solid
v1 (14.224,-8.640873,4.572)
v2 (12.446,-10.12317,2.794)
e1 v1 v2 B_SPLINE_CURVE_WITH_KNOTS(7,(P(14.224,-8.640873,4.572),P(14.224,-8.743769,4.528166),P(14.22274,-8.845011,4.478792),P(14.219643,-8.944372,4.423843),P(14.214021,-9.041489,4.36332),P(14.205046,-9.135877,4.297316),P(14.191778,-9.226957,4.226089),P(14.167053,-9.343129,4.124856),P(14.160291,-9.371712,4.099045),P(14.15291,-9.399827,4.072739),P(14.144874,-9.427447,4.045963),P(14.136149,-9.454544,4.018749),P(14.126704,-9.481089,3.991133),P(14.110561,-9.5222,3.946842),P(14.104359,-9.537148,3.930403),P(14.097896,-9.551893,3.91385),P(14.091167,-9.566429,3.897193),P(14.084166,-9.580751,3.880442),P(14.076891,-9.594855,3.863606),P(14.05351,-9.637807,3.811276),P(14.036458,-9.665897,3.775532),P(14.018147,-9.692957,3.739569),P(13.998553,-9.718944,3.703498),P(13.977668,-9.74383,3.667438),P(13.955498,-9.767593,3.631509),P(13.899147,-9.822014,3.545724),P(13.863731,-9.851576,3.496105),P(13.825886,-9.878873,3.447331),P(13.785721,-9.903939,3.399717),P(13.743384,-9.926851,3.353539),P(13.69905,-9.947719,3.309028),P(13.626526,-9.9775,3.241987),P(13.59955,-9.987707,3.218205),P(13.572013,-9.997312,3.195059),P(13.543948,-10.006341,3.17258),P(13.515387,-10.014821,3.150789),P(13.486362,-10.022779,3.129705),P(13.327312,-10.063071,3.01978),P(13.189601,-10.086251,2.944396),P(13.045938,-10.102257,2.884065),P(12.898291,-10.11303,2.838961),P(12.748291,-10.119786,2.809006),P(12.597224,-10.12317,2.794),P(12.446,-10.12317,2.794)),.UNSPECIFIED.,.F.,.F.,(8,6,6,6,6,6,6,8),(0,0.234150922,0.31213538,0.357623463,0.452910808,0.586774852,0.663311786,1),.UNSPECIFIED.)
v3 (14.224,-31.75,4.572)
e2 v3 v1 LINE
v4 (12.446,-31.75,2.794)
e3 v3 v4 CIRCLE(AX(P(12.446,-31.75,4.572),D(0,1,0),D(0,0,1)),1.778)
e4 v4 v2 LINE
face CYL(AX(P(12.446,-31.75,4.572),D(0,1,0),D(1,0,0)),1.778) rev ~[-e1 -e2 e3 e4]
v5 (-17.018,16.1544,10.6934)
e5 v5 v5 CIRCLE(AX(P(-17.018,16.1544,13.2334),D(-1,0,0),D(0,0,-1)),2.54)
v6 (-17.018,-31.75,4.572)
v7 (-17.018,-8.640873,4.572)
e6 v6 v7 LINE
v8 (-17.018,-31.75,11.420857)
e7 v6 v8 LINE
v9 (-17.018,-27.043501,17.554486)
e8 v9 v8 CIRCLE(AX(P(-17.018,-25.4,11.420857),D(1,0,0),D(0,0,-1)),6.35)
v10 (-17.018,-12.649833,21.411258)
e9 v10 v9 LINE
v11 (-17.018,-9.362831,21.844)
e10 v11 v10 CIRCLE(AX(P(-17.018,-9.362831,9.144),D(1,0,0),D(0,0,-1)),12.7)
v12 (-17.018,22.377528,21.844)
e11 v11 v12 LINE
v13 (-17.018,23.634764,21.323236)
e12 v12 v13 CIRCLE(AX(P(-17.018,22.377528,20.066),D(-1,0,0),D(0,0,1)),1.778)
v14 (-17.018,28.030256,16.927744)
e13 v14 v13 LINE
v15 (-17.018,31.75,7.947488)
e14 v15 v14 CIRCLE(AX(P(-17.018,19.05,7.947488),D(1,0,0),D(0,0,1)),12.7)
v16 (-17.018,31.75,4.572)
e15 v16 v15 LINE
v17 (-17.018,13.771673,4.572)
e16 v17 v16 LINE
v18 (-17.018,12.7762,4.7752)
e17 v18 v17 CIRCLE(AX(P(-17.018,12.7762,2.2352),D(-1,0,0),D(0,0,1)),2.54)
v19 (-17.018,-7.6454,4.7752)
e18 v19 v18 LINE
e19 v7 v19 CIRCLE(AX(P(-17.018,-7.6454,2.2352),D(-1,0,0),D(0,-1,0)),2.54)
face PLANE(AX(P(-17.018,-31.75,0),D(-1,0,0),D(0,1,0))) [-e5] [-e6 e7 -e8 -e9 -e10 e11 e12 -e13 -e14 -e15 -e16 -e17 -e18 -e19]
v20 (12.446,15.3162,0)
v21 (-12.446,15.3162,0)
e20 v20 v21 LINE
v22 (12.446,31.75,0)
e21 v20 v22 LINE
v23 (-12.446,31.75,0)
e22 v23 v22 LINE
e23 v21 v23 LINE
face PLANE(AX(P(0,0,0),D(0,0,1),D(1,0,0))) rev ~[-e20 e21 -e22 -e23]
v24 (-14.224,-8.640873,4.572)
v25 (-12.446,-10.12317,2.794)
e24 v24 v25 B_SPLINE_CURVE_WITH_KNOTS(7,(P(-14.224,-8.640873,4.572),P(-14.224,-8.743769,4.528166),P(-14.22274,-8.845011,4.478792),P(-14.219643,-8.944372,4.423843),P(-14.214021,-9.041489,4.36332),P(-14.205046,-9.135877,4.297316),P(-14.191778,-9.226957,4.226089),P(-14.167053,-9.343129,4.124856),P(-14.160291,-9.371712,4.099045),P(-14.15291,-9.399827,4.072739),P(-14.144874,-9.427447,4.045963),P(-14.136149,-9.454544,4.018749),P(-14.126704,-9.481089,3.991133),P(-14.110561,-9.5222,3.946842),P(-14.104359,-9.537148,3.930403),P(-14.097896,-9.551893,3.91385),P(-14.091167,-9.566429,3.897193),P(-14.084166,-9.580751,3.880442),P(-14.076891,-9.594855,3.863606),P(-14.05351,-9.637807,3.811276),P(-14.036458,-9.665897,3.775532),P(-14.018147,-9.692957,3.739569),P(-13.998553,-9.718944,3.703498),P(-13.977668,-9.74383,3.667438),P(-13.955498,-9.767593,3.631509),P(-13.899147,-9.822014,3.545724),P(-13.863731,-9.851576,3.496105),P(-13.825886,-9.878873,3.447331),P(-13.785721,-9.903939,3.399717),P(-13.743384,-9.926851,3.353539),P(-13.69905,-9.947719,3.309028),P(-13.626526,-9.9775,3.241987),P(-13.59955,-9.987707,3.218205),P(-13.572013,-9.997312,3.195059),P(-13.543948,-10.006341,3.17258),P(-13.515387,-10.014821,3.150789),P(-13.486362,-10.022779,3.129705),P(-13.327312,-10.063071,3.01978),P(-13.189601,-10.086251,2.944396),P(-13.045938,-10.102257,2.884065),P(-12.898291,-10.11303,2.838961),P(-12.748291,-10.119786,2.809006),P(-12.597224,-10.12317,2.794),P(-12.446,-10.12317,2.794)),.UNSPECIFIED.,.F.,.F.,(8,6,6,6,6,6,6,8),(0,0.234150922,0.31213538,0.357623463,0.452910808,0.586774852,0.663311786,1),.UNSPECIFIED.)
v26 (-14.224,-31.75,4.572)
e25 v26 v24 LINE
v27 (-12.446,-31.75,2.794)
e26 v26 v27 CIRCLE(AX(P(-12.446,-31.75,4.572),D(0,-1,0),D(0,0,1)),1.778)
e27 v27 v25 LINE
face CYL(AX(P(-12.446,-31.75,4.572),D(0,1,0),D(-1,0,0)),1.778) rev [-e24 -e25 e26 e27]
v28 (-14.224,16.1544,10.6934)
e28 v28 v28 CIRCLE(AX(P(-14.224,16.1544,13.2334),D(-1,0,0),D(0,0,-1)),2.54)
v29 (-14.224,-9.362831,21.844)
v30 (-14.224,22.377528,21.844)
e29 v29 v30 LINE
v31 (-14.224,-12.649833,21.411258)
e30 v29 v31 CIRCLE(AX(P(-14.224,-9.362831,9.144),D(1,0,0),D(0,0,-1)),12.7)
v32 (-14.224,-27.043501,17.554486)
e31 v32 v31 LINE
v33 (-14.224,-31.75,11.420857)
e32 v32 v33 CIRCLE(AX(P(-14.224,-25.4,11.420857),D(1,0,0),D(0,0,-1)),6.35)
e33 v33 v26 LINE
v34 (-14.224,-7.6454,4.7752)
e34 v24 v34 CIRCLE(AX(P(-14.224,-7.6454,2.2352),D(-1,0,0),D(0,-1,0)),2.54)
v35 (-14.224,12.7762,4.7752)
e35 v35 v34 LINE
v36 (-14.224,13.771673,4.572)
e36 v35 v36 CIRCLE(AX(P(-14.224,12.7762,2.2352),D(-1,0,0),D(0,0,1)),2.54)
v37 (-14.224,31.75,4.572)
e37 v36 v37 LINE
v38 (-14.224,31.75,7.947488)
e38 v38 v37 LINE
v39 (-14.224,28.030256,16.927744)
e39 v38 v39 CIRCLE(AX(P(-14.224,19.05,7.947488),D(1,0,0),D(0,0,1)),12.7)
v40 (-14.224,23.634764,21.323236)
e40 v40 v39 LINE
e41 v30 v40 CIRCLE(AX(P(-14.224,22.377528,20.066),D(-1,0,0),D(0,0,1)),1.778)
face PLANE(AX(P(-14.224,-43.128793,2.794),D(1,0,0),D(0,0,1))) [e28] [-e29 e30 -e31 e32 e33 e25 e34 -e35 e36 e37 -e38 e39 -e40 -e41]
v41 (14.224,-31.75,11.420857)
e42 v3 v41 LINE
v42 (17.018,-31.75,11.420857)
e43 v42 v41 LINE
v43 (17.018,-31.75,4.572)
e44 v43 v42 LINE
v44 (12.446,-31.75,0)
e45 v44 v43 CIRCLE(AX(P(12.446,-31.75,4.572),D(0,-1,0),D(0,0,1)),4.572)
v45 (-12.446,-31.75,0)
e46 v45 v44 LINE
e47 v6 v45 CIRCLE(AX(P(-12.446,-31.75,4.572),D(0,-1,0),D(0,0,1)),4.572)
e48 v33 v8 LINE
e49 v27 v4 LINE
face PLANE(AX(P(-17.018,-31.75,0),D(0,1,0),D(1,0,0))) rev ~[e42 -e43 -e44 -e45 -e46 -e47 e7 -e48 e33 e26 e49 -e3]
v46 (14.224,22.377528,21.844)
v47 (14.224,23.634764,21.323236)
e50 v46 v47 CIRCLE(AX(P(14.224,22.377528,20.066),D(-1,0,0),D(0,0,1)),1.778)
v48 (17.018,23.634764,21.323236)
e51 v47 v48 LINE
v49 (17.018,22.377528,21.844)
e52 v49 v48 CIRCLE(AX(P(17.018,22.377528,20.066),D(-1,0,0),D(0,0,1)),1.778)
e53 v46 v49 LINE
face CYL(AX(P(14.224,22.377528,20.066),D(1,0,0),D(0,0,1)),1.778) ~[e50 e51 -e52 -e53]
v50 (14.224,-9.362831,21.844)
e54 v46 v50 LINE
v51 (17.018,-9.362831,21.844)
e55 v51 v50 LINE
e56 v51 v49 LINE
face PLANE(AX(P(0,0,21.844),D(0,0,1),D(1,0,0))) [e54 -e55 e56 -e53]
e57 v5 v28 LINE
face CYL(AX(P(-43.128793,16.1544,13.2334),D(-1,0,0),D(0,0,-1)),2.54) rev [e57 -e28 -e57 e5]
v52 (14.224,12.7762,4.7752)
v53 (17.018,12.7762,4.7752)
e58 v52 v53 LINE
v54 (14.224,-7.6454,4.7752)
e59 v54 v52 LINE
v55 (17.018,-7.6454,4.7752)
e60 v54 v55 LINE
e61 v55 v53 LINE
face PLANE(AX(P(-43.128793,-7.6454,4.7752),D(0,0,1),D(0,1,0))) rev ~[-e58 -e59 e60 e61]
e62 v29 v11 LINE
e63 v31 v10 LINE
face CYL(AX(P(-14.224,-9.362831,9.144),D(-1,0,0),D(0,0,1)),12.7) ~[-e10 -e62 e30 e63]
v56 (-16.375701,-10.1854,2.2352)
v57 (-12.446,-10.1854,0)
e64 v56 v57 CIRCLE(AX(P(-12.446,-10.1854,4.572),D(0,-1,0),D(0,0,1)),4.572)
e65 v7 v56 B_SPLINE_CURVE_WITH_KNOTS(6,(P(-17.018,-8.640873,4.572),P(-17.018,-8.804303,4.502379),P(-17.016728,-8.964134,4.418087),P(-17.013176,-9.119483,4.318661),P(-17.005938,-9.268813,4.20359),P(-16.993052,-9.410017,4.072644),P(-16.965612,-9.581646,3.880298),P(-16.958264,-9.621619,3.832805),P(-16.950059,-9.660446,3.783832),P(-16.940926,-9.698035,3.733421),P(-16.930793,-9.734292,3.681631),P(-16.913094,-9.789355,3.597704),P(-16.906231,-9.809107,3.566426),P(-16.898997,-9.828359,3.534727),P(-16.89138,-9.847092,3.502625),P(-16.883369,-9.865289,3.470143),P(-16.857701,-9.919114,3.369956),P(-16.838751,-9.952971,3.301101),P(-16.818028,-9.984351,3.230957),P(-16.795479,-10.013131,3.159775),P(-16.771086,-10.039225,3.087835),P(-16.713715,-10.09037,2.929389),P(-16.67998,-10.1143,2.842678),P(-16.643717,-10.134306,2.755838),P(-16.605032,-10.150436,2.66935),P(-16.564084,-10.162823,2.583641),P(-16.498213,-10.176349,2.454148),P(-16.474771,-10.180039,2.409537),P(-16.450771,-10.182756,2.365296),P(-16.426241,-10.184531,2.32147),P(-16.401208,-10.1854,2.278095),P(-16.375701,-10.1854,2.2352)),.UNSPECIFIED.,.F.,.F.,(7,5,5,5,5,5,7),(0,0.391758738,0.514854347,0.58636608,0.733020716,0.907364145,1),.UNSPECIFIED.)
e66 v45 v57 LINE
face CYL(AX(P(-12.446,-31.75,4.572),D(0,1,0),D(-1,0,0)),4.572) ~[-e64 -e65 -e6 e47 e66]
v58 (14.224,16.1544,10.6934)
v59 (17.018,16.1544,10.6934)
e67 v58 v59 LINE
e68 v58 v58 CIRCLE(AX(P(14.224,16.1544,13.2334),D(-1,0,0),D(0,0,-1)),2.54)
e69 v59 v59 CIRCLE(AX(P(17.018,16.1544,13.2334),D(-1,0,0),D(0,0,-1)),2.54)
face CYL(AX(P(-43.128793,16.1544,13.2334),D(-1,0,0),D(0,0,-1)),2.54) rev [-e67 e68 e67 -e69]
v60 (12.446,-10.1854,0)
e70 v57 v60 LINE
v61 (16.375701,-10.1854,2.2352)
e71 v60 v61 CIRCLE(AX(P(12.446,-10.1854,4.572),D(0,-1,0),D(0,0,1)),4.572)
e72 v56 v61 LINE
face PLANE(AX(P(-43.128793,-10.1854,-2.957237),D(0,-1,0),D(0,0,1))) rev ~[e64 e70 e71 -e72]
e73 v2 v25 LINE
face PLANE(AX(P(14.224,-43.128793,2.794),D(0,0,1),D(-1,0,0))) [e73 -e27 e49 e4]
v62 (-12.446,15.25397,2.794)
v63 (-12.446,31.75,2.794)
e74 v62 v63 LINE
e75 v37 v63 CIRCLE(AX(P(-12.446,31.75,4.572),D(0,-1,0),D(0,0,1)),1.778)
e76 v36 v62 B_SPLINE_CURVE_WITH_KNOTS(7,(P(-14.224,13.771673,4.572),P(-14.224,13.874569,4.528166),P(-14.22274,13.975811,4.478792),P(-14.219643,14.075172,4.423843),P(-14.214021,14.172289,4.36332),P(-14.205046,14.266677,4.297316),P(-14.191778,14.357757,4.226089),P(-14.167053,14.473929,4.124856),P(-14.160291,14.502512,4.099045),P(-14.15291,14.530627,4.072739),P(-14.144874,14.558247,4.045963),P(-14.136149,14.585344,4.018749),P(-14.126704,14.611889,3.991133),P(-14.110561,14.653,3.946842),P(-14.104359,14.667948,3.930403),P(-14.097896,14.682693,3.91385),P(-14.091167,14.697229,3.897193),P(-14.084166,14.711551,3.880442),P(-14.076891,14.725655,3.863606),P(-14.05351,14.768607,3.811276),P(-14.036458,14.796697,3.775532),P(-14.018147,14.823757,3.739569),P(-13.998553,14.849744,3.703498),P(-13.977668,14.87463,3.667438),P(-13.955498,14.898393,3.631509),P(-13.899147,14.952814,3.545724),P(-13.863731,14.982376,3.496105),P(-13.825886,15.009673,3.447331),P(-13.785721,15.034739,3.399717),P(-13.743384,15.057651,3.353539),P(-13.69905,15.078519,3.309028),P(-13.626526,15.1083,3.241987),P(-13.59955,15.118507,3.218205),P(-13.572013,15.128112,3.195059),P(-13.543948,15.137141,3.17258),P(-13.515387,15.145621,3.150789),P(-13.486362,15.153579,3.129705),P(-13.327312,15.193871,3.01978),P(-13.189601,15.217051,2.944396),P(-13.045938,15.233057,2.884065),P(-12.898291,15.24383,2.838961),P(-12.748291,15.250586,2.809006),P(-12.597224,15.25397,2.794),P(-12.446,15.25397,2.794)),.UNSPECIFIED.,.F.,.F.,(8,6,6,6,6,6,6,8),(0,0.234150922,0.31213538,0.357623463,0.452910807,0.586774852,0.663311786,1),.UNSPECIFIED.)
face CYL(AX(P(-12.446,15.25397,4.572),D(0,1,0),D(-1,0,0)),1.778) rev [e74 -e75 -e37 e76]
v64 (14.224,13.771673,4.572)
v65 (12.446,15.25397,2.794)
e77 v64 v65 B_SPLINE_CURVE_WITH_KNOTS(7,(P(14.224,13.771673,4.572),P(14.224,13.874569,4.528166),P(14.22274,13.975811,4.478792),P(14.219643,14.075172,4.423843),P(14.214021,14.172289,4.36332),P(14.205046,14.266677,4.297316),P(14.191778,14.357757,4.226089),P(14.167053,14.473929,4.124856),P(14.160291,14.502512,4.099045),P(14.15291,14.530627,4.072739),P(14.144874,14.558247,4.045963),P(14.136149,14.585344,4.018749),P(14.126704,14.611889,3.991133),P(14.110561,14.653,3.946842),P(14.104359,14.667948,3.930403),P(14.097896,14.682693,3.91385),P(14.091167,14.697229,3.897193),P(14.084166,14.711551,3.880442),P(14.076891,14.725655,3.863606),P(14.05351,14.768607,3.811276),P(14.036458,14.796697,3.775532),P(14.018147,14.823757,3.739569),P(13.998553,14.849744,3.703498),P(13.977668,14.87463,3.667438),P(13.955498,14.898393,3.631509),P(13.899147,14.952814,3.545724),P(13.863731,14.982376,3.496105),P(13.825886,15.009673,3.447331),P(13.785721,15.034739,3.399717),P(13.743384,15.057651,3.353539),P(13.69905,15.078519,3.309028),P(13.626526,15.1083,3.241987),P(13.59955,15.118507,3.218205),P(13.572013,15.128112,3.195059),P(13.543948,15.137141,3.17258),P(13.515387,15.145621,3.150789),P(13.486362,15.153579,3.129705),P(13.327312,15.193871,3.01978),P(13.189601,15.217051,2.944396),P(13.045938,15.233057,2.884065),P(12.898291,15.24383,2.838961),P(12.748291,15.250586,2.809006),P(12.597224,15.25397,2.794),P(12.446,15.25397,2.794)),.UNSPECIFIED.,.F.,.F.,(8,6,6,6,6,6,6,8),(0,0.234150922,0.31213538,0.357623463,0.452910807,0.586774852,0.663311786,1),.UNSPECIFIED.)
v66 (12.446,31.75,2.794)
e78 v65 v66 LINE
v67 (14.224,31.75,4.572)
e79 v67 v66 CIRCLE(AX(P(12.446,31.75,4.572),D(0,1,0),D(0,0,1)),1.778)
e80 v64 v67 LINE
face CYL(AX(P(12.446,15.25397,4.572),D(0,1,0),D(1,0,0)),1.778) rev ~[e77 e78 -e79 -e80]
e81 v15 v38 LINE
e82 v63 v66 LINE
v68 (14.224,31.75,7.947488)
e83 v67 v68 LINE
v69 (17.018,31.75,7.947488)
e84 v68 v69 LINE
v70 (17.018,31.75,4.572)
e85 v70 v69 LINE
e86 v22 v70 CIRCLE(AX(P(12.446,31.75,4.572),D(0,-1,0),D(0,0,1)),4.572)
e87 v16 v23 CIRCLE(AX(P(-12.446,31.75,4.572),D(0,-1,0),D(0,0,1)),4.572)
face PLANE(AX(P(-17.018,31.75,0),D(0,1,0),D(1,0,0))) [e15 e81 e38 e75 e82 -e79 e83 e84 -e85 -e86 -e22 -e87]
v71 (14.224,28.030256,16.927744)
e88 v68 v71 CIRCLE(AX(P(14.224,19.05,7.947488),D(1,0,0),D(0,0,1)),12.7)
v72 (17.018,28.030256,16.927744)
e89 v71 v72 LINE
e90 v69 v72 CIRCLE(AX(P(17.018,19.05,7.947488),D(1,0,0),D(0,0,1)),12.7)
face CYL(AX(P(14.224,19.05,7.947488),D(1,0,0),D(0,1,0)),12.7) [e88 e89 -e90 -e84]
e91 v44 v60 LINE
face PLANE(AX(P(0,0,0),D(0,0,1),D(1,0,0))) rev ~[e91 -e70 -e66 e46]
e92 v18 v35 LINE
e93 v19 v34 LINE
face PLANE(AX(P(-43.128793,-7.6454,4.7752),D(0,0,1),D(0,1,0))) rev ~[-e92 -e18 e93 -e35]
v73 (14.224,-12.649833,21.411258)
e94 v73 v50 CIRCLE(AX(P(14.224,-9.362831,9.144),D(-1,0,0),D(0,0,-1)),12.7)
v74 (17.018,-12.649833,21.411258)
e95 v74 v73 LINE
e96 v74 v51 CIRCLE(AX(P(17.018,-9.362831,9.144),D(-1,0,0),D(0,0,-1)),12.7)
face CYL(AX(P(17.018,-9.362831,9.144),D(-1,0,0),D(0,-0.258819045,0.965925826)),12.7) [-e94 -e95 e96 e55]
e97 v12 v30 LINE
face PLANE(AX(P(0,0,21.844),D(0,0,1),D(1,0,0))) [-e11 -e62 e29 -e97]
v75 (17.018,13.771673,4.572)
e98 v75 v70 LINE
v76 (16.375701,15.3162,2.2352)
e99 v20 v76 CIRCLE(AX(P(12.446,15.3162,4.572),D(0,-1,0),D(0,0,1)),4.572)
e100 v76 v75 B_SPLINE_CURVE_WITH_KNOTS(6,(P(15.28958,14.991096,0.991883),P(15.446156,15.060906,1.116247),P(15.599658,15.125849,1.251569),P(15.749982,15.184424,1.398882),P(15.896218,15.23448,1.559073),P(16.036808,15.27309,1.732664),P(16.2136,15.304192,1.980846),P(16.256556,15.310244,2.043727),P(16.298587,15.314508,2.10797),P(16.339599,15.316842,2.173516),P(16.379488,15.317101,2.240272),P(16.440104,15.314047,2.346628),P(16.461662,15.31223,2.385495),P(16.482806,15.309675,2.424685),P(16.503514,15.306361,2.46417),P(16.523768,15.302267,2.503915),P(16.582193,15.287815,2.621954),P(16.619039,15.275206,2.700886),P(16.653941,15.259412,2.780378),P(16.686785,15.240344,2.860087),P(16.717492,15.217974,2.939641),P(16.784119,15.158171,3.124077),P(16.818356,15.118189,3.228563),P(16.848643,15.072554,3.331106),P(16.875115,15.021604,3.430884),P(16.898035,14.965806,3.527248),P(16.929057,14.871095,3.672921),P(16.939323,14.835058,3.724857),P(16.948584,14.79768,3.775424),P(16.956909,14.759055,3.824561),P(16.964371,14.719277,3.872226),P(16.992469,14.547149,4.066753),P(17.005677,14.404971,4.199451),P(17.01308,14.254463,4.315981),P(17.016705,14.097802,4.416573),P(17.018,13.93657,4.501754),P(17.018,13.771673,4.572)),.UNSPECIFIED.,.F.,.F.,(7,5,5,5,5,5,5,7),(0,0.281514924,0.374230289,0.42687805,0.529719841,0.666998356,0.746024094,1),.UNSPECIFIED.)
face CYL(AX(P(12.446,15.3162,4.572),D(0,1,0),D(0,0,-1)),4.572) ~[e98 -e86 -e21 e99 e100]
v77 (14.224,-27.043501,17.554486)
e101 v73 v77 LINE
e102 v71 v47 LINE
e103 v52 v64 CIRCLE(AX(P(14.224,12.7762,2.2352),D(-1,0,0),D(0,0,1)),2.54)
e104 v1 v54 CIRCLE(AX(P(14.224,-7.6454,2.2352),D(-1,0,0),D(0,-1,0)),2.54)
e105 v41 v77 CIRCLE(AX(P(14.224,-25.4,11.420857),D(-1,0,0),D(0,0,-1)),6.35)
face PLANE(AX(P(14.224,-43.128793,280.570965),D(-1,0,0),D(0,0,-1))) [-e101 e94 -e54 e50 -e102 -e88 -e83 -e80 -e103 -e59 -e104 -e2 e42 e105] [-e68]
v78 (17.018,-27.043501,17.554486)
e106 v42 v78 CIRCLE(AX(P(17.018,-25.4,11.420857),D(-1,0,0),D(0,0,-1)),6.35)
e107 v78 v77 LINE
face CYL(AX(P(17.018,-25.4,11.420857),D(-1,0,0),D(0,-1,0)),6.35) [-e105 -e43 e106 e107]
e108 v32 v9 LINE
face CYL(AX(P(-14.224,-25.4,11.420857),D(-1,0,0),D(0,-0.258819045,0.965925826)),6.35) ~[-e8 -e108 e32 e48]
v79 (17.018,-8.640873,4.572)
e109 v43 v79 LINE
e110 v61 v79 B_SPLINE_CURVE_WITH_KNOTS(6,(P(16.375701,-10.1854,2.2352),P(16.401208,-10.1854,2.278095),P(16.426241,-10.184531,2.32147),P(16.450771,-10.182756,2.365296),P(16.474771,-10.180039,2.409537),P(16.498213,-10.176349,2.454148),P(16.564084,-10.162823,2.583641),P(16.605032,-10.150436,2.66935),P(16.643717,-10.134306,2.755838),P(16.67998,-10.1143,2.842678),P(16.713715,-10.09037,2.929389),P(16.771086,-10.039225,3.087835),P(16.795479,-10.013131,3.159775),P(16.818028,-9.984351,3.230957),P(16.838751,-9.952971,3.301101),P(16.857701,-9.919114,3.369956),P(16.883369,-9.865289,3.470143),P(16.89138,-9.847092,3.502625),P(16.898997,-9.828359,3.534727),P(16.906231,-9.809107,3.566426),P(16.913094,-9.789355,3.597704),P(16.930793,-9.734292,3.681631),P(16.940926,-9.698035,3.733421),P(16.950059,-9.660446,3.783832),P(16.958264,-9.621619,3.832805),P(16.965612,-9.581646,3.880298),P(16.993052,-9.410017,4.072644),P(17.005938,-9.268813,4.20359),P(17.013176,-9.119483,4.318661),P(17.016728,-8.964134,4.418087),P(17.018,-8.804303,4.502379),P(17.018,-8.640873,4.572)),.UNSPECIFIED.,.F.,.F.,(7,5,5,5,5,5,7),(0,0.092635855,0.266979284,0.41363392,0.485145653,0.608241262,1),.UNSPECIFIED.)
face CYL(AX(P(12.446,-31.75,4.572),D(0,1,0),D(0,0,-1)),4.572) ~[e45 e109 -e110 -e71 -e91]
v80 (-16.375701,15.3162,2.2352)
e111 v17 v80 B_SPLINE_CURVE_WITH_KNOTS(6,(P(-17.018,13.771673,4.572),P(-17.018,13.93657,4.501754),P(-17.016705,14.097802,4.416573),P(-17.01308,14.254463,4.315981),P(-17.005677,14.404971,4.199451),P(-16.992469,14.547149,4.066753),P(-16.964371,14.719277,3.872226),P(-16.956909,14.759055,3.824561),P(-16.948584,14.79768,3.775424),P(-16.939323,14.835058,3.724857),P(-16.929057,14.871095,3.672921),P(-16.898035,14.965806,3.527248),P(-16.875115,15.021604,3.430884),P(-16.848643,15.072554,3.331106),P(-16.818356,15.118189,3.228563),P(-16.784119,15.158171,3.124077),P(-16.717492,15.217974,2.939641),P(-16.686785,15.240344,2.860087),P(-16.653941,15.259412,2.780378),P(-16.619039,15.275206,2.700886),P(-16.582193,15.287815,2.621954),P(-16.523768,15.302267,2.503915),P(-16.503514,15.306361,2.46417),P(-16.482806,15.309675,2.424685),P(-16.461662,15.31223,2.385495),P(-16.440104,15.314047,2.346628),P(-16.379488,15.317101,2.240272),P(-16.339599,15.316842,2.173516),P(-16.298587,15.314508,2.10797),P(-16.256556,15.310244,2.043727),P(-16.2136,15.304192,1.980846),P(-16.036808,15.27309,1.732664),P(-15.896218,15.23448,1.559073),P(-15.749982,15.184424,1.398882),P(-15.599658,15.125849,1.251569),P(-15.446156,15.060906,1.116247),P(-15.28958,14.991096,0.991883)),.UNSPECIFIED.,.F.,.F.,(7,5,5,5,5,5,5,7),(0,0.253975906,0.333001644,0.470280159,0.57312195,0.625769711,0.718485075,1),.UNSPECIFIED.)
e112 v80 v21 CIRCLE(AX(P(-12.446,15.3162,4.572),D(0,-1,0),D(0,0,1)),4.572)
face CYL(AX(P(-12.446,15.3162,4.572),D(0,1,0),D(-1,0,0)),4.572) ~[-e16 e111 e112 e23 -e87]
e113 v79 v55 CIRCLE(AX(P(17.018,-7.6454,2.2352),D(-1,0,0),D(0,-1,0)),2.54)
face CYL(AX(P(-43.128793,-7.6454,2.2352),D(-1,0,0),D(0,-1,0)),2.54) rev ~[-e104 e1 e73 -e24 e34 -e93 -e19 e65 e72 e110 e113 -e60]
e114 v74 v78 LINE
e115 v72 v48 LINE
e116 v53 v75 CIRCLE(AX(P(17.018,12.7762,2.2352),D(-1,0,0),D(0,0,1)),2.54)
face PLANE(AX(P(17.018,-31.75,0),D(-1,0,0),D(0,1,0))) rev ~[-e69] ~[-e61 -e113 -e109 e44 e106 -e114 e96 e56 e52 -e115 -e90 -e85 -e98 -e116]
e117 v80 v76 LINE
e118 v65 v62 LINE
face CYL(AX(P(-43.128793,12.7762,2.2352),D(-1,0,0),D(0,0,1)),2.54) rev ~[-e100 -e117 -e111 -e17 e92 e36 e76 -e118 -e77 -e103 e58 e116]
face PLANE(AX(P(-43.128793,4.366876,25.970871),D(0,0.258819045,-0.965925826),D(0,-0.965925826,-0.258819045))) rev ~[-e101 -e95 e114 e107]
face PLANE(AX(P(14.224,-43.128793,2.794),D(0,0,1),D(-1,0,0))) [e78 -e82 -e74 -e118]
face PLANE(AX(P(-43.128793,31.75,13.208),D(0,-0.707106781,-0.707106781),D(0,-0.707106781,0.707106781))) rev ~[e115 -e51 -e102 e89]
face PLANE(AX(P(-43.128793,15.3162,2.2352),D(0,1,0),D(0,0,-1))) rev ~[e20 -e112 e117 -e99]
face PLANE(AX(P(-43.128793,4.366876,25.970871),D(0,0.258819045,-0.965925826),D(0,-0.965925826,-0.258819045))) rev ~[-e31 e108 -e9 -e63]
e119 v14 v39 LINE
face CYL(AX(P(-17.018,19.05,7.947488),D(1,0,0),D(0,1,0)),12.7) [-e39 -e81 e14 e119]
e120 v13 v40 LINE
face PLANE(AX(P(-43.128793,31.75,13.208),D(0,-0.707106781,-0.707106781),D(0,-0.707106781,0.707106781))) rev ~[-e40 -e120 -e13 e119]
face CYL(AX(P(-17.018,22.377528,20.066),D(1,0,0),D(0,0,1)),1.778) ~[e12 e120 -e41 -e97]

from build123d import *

# Parameters (mm, degrees)
SKETCH1_W               = 34.036
SKETCH1_H               = 63.5
BOSS_EXTRUDE1_DEPTH     = 21.844
CUT_EXTRUDE1_DEPTH      = 43.12879253
CUT_EXTRUDE1_DEPTH_BACK = 43.12879253
CUT_EXTRUDE2_DEPTH      = 43.12879253
CUT_EXTRUDE2_DEPTH_BACK = 43.12879253
SKETCH3_R               = 2.54
FILLET1_R               = 12.7
FILLET2_R               = 6.35
FILLET3_R               = 1.778
FILLET4_R               = 4.572


with BuildPart() as part:
    # Sketch1 → Boss-Extrude1 (new body)
    with BuildSketch(Plane.XY):
        Rectangle(SKETCH1_W, SKETCH1_H)
    extrude(amount=BOSS_EXTRUDE1_DEPTH)

    # Sketch2 → Cut-Extrude1 (cut, two sides: drawn at the far end of the back side and taken through both)
    with BuildSketch(Plane(origin=(0, 0, 0), x_dir=(1, 0, 0), z_dir=(0, 1, 0)).offset(-CUT_EXTRUDE1_DEPTH_BACK)):
        Polygon((14.224, -108.086321581), (14.224, -21.844), (14.224, -2.794), (-14.224, -2.794), (-14.224, -21.844), (-14.224, -108.086321581), (-14.224, -280.570964742), (14.224, -280.570964742), align=None)
    extrude(amount=CUT_EXTRUDE1_DEPTH + CUT_EXTRUDE1_DEPTH_BACK, mode=Mode.SUBTRACT)

    # Sketch3 → Cut-Extrude2 (cut, two sides: drawn at the far end of the back side and taken through both)
    with BuildSketch(Plane(origin=(0, 0, 0), x_dir=(0, 0, -1), z_dir=(1, 0, 0)).offset(-CUT_EXTRUDE2_DEPTH_BACK)):
        with Locations((-13.2334, 16.1544)):
            Circle(SKETCH3_R)
        with BuildLine():
            Line((-2.2352, 15.3162), (2.957237461, 15.3162))
            Line((2.957237461, 15.3162), (2.957237461, -10.1854))
            Line((2.957237461, -10.1854), (-2.2352, -10.1854))
            ThreePointArc((-2.2352, -10.1854), (-4.031251224, -9.441451224), (-4.7752, -7.6454))
            Line((-4.7752, -7.6454), (-4.7752, 12.7762))
            ThreePointArc((-4.7752, 12.7762), (-4.031251224, 14.572251224), (-2.2352, 15.3162))
        make_face()
        Polygon((-13.208, 31.75), (-21.844, 23.114), (-30.192518149, 23.114), (-30.192518149, 40.531352169), (-13.208, 40.531352169), align=None)
        Polygon((-16.256, -31.889517823), (-16.256, -43.289335124), (-30.986485738, -43.289335124), (-30.986485738, 4.366875898), (-25.970871418, 4.366875898), align=None)
    extrude(amount=CUT_EXTRUDE2_DEPTH + CUT_EXTRUDE2_DEPTH_BACK, mode=Mode.SUBTRACT)

    # Fillet1
    fillet1_edges = [part.edges().sort_by_distance(p)[0] for p in [
        (15.621, 31.75, 13.208),
        (-15.621, 31.75, 13.208),
        (15.621, -11.034817911, 21.844),
        (-15.621, -11.034817911, 21.844),
    ]]
    fillet(fillet1_edges, radius=FILLET1_R)

    # Fillet2
    fillet2_edges = [part.edges().sort_by_distance(p)[0] for p in [
        (15.621, -31.75, 16.293383688),
        (-15.621, -31.75, 16.293383688),
    ]]
    fillet(fillet2_edges, radius=FILLET2_R)

    # Fillet3
    fillet3_edges = [part.edges().sort_by_distance(p)[0] for p in [
        (15.621, 23.114, 21.844),
        (14.224, -20.936584837, 2.794),
        (14.224, 23.501984837, 2.794),
        (-14.224, -20.936584837, 2.794),
        (-14.224, 23.501984837, 2.794),
        (-15.621, 23.114, 21.844),
    ]]
    fillet(fillet3_edges, radius=FILLET3_R)

    # Fillet4
    fillet4_edges = [part.edges().sort_by_distance(p)[0] for p in [
        (17.018, 23.5331, 0),
        (17.018, -20.9677, 0),
        (-17.018, 23.5331, 0),
        (-17.018, -20.9677, 0),
    ]]
    fillet(fillet4_edges, radius=FILLET4_R)


solid = part.part
